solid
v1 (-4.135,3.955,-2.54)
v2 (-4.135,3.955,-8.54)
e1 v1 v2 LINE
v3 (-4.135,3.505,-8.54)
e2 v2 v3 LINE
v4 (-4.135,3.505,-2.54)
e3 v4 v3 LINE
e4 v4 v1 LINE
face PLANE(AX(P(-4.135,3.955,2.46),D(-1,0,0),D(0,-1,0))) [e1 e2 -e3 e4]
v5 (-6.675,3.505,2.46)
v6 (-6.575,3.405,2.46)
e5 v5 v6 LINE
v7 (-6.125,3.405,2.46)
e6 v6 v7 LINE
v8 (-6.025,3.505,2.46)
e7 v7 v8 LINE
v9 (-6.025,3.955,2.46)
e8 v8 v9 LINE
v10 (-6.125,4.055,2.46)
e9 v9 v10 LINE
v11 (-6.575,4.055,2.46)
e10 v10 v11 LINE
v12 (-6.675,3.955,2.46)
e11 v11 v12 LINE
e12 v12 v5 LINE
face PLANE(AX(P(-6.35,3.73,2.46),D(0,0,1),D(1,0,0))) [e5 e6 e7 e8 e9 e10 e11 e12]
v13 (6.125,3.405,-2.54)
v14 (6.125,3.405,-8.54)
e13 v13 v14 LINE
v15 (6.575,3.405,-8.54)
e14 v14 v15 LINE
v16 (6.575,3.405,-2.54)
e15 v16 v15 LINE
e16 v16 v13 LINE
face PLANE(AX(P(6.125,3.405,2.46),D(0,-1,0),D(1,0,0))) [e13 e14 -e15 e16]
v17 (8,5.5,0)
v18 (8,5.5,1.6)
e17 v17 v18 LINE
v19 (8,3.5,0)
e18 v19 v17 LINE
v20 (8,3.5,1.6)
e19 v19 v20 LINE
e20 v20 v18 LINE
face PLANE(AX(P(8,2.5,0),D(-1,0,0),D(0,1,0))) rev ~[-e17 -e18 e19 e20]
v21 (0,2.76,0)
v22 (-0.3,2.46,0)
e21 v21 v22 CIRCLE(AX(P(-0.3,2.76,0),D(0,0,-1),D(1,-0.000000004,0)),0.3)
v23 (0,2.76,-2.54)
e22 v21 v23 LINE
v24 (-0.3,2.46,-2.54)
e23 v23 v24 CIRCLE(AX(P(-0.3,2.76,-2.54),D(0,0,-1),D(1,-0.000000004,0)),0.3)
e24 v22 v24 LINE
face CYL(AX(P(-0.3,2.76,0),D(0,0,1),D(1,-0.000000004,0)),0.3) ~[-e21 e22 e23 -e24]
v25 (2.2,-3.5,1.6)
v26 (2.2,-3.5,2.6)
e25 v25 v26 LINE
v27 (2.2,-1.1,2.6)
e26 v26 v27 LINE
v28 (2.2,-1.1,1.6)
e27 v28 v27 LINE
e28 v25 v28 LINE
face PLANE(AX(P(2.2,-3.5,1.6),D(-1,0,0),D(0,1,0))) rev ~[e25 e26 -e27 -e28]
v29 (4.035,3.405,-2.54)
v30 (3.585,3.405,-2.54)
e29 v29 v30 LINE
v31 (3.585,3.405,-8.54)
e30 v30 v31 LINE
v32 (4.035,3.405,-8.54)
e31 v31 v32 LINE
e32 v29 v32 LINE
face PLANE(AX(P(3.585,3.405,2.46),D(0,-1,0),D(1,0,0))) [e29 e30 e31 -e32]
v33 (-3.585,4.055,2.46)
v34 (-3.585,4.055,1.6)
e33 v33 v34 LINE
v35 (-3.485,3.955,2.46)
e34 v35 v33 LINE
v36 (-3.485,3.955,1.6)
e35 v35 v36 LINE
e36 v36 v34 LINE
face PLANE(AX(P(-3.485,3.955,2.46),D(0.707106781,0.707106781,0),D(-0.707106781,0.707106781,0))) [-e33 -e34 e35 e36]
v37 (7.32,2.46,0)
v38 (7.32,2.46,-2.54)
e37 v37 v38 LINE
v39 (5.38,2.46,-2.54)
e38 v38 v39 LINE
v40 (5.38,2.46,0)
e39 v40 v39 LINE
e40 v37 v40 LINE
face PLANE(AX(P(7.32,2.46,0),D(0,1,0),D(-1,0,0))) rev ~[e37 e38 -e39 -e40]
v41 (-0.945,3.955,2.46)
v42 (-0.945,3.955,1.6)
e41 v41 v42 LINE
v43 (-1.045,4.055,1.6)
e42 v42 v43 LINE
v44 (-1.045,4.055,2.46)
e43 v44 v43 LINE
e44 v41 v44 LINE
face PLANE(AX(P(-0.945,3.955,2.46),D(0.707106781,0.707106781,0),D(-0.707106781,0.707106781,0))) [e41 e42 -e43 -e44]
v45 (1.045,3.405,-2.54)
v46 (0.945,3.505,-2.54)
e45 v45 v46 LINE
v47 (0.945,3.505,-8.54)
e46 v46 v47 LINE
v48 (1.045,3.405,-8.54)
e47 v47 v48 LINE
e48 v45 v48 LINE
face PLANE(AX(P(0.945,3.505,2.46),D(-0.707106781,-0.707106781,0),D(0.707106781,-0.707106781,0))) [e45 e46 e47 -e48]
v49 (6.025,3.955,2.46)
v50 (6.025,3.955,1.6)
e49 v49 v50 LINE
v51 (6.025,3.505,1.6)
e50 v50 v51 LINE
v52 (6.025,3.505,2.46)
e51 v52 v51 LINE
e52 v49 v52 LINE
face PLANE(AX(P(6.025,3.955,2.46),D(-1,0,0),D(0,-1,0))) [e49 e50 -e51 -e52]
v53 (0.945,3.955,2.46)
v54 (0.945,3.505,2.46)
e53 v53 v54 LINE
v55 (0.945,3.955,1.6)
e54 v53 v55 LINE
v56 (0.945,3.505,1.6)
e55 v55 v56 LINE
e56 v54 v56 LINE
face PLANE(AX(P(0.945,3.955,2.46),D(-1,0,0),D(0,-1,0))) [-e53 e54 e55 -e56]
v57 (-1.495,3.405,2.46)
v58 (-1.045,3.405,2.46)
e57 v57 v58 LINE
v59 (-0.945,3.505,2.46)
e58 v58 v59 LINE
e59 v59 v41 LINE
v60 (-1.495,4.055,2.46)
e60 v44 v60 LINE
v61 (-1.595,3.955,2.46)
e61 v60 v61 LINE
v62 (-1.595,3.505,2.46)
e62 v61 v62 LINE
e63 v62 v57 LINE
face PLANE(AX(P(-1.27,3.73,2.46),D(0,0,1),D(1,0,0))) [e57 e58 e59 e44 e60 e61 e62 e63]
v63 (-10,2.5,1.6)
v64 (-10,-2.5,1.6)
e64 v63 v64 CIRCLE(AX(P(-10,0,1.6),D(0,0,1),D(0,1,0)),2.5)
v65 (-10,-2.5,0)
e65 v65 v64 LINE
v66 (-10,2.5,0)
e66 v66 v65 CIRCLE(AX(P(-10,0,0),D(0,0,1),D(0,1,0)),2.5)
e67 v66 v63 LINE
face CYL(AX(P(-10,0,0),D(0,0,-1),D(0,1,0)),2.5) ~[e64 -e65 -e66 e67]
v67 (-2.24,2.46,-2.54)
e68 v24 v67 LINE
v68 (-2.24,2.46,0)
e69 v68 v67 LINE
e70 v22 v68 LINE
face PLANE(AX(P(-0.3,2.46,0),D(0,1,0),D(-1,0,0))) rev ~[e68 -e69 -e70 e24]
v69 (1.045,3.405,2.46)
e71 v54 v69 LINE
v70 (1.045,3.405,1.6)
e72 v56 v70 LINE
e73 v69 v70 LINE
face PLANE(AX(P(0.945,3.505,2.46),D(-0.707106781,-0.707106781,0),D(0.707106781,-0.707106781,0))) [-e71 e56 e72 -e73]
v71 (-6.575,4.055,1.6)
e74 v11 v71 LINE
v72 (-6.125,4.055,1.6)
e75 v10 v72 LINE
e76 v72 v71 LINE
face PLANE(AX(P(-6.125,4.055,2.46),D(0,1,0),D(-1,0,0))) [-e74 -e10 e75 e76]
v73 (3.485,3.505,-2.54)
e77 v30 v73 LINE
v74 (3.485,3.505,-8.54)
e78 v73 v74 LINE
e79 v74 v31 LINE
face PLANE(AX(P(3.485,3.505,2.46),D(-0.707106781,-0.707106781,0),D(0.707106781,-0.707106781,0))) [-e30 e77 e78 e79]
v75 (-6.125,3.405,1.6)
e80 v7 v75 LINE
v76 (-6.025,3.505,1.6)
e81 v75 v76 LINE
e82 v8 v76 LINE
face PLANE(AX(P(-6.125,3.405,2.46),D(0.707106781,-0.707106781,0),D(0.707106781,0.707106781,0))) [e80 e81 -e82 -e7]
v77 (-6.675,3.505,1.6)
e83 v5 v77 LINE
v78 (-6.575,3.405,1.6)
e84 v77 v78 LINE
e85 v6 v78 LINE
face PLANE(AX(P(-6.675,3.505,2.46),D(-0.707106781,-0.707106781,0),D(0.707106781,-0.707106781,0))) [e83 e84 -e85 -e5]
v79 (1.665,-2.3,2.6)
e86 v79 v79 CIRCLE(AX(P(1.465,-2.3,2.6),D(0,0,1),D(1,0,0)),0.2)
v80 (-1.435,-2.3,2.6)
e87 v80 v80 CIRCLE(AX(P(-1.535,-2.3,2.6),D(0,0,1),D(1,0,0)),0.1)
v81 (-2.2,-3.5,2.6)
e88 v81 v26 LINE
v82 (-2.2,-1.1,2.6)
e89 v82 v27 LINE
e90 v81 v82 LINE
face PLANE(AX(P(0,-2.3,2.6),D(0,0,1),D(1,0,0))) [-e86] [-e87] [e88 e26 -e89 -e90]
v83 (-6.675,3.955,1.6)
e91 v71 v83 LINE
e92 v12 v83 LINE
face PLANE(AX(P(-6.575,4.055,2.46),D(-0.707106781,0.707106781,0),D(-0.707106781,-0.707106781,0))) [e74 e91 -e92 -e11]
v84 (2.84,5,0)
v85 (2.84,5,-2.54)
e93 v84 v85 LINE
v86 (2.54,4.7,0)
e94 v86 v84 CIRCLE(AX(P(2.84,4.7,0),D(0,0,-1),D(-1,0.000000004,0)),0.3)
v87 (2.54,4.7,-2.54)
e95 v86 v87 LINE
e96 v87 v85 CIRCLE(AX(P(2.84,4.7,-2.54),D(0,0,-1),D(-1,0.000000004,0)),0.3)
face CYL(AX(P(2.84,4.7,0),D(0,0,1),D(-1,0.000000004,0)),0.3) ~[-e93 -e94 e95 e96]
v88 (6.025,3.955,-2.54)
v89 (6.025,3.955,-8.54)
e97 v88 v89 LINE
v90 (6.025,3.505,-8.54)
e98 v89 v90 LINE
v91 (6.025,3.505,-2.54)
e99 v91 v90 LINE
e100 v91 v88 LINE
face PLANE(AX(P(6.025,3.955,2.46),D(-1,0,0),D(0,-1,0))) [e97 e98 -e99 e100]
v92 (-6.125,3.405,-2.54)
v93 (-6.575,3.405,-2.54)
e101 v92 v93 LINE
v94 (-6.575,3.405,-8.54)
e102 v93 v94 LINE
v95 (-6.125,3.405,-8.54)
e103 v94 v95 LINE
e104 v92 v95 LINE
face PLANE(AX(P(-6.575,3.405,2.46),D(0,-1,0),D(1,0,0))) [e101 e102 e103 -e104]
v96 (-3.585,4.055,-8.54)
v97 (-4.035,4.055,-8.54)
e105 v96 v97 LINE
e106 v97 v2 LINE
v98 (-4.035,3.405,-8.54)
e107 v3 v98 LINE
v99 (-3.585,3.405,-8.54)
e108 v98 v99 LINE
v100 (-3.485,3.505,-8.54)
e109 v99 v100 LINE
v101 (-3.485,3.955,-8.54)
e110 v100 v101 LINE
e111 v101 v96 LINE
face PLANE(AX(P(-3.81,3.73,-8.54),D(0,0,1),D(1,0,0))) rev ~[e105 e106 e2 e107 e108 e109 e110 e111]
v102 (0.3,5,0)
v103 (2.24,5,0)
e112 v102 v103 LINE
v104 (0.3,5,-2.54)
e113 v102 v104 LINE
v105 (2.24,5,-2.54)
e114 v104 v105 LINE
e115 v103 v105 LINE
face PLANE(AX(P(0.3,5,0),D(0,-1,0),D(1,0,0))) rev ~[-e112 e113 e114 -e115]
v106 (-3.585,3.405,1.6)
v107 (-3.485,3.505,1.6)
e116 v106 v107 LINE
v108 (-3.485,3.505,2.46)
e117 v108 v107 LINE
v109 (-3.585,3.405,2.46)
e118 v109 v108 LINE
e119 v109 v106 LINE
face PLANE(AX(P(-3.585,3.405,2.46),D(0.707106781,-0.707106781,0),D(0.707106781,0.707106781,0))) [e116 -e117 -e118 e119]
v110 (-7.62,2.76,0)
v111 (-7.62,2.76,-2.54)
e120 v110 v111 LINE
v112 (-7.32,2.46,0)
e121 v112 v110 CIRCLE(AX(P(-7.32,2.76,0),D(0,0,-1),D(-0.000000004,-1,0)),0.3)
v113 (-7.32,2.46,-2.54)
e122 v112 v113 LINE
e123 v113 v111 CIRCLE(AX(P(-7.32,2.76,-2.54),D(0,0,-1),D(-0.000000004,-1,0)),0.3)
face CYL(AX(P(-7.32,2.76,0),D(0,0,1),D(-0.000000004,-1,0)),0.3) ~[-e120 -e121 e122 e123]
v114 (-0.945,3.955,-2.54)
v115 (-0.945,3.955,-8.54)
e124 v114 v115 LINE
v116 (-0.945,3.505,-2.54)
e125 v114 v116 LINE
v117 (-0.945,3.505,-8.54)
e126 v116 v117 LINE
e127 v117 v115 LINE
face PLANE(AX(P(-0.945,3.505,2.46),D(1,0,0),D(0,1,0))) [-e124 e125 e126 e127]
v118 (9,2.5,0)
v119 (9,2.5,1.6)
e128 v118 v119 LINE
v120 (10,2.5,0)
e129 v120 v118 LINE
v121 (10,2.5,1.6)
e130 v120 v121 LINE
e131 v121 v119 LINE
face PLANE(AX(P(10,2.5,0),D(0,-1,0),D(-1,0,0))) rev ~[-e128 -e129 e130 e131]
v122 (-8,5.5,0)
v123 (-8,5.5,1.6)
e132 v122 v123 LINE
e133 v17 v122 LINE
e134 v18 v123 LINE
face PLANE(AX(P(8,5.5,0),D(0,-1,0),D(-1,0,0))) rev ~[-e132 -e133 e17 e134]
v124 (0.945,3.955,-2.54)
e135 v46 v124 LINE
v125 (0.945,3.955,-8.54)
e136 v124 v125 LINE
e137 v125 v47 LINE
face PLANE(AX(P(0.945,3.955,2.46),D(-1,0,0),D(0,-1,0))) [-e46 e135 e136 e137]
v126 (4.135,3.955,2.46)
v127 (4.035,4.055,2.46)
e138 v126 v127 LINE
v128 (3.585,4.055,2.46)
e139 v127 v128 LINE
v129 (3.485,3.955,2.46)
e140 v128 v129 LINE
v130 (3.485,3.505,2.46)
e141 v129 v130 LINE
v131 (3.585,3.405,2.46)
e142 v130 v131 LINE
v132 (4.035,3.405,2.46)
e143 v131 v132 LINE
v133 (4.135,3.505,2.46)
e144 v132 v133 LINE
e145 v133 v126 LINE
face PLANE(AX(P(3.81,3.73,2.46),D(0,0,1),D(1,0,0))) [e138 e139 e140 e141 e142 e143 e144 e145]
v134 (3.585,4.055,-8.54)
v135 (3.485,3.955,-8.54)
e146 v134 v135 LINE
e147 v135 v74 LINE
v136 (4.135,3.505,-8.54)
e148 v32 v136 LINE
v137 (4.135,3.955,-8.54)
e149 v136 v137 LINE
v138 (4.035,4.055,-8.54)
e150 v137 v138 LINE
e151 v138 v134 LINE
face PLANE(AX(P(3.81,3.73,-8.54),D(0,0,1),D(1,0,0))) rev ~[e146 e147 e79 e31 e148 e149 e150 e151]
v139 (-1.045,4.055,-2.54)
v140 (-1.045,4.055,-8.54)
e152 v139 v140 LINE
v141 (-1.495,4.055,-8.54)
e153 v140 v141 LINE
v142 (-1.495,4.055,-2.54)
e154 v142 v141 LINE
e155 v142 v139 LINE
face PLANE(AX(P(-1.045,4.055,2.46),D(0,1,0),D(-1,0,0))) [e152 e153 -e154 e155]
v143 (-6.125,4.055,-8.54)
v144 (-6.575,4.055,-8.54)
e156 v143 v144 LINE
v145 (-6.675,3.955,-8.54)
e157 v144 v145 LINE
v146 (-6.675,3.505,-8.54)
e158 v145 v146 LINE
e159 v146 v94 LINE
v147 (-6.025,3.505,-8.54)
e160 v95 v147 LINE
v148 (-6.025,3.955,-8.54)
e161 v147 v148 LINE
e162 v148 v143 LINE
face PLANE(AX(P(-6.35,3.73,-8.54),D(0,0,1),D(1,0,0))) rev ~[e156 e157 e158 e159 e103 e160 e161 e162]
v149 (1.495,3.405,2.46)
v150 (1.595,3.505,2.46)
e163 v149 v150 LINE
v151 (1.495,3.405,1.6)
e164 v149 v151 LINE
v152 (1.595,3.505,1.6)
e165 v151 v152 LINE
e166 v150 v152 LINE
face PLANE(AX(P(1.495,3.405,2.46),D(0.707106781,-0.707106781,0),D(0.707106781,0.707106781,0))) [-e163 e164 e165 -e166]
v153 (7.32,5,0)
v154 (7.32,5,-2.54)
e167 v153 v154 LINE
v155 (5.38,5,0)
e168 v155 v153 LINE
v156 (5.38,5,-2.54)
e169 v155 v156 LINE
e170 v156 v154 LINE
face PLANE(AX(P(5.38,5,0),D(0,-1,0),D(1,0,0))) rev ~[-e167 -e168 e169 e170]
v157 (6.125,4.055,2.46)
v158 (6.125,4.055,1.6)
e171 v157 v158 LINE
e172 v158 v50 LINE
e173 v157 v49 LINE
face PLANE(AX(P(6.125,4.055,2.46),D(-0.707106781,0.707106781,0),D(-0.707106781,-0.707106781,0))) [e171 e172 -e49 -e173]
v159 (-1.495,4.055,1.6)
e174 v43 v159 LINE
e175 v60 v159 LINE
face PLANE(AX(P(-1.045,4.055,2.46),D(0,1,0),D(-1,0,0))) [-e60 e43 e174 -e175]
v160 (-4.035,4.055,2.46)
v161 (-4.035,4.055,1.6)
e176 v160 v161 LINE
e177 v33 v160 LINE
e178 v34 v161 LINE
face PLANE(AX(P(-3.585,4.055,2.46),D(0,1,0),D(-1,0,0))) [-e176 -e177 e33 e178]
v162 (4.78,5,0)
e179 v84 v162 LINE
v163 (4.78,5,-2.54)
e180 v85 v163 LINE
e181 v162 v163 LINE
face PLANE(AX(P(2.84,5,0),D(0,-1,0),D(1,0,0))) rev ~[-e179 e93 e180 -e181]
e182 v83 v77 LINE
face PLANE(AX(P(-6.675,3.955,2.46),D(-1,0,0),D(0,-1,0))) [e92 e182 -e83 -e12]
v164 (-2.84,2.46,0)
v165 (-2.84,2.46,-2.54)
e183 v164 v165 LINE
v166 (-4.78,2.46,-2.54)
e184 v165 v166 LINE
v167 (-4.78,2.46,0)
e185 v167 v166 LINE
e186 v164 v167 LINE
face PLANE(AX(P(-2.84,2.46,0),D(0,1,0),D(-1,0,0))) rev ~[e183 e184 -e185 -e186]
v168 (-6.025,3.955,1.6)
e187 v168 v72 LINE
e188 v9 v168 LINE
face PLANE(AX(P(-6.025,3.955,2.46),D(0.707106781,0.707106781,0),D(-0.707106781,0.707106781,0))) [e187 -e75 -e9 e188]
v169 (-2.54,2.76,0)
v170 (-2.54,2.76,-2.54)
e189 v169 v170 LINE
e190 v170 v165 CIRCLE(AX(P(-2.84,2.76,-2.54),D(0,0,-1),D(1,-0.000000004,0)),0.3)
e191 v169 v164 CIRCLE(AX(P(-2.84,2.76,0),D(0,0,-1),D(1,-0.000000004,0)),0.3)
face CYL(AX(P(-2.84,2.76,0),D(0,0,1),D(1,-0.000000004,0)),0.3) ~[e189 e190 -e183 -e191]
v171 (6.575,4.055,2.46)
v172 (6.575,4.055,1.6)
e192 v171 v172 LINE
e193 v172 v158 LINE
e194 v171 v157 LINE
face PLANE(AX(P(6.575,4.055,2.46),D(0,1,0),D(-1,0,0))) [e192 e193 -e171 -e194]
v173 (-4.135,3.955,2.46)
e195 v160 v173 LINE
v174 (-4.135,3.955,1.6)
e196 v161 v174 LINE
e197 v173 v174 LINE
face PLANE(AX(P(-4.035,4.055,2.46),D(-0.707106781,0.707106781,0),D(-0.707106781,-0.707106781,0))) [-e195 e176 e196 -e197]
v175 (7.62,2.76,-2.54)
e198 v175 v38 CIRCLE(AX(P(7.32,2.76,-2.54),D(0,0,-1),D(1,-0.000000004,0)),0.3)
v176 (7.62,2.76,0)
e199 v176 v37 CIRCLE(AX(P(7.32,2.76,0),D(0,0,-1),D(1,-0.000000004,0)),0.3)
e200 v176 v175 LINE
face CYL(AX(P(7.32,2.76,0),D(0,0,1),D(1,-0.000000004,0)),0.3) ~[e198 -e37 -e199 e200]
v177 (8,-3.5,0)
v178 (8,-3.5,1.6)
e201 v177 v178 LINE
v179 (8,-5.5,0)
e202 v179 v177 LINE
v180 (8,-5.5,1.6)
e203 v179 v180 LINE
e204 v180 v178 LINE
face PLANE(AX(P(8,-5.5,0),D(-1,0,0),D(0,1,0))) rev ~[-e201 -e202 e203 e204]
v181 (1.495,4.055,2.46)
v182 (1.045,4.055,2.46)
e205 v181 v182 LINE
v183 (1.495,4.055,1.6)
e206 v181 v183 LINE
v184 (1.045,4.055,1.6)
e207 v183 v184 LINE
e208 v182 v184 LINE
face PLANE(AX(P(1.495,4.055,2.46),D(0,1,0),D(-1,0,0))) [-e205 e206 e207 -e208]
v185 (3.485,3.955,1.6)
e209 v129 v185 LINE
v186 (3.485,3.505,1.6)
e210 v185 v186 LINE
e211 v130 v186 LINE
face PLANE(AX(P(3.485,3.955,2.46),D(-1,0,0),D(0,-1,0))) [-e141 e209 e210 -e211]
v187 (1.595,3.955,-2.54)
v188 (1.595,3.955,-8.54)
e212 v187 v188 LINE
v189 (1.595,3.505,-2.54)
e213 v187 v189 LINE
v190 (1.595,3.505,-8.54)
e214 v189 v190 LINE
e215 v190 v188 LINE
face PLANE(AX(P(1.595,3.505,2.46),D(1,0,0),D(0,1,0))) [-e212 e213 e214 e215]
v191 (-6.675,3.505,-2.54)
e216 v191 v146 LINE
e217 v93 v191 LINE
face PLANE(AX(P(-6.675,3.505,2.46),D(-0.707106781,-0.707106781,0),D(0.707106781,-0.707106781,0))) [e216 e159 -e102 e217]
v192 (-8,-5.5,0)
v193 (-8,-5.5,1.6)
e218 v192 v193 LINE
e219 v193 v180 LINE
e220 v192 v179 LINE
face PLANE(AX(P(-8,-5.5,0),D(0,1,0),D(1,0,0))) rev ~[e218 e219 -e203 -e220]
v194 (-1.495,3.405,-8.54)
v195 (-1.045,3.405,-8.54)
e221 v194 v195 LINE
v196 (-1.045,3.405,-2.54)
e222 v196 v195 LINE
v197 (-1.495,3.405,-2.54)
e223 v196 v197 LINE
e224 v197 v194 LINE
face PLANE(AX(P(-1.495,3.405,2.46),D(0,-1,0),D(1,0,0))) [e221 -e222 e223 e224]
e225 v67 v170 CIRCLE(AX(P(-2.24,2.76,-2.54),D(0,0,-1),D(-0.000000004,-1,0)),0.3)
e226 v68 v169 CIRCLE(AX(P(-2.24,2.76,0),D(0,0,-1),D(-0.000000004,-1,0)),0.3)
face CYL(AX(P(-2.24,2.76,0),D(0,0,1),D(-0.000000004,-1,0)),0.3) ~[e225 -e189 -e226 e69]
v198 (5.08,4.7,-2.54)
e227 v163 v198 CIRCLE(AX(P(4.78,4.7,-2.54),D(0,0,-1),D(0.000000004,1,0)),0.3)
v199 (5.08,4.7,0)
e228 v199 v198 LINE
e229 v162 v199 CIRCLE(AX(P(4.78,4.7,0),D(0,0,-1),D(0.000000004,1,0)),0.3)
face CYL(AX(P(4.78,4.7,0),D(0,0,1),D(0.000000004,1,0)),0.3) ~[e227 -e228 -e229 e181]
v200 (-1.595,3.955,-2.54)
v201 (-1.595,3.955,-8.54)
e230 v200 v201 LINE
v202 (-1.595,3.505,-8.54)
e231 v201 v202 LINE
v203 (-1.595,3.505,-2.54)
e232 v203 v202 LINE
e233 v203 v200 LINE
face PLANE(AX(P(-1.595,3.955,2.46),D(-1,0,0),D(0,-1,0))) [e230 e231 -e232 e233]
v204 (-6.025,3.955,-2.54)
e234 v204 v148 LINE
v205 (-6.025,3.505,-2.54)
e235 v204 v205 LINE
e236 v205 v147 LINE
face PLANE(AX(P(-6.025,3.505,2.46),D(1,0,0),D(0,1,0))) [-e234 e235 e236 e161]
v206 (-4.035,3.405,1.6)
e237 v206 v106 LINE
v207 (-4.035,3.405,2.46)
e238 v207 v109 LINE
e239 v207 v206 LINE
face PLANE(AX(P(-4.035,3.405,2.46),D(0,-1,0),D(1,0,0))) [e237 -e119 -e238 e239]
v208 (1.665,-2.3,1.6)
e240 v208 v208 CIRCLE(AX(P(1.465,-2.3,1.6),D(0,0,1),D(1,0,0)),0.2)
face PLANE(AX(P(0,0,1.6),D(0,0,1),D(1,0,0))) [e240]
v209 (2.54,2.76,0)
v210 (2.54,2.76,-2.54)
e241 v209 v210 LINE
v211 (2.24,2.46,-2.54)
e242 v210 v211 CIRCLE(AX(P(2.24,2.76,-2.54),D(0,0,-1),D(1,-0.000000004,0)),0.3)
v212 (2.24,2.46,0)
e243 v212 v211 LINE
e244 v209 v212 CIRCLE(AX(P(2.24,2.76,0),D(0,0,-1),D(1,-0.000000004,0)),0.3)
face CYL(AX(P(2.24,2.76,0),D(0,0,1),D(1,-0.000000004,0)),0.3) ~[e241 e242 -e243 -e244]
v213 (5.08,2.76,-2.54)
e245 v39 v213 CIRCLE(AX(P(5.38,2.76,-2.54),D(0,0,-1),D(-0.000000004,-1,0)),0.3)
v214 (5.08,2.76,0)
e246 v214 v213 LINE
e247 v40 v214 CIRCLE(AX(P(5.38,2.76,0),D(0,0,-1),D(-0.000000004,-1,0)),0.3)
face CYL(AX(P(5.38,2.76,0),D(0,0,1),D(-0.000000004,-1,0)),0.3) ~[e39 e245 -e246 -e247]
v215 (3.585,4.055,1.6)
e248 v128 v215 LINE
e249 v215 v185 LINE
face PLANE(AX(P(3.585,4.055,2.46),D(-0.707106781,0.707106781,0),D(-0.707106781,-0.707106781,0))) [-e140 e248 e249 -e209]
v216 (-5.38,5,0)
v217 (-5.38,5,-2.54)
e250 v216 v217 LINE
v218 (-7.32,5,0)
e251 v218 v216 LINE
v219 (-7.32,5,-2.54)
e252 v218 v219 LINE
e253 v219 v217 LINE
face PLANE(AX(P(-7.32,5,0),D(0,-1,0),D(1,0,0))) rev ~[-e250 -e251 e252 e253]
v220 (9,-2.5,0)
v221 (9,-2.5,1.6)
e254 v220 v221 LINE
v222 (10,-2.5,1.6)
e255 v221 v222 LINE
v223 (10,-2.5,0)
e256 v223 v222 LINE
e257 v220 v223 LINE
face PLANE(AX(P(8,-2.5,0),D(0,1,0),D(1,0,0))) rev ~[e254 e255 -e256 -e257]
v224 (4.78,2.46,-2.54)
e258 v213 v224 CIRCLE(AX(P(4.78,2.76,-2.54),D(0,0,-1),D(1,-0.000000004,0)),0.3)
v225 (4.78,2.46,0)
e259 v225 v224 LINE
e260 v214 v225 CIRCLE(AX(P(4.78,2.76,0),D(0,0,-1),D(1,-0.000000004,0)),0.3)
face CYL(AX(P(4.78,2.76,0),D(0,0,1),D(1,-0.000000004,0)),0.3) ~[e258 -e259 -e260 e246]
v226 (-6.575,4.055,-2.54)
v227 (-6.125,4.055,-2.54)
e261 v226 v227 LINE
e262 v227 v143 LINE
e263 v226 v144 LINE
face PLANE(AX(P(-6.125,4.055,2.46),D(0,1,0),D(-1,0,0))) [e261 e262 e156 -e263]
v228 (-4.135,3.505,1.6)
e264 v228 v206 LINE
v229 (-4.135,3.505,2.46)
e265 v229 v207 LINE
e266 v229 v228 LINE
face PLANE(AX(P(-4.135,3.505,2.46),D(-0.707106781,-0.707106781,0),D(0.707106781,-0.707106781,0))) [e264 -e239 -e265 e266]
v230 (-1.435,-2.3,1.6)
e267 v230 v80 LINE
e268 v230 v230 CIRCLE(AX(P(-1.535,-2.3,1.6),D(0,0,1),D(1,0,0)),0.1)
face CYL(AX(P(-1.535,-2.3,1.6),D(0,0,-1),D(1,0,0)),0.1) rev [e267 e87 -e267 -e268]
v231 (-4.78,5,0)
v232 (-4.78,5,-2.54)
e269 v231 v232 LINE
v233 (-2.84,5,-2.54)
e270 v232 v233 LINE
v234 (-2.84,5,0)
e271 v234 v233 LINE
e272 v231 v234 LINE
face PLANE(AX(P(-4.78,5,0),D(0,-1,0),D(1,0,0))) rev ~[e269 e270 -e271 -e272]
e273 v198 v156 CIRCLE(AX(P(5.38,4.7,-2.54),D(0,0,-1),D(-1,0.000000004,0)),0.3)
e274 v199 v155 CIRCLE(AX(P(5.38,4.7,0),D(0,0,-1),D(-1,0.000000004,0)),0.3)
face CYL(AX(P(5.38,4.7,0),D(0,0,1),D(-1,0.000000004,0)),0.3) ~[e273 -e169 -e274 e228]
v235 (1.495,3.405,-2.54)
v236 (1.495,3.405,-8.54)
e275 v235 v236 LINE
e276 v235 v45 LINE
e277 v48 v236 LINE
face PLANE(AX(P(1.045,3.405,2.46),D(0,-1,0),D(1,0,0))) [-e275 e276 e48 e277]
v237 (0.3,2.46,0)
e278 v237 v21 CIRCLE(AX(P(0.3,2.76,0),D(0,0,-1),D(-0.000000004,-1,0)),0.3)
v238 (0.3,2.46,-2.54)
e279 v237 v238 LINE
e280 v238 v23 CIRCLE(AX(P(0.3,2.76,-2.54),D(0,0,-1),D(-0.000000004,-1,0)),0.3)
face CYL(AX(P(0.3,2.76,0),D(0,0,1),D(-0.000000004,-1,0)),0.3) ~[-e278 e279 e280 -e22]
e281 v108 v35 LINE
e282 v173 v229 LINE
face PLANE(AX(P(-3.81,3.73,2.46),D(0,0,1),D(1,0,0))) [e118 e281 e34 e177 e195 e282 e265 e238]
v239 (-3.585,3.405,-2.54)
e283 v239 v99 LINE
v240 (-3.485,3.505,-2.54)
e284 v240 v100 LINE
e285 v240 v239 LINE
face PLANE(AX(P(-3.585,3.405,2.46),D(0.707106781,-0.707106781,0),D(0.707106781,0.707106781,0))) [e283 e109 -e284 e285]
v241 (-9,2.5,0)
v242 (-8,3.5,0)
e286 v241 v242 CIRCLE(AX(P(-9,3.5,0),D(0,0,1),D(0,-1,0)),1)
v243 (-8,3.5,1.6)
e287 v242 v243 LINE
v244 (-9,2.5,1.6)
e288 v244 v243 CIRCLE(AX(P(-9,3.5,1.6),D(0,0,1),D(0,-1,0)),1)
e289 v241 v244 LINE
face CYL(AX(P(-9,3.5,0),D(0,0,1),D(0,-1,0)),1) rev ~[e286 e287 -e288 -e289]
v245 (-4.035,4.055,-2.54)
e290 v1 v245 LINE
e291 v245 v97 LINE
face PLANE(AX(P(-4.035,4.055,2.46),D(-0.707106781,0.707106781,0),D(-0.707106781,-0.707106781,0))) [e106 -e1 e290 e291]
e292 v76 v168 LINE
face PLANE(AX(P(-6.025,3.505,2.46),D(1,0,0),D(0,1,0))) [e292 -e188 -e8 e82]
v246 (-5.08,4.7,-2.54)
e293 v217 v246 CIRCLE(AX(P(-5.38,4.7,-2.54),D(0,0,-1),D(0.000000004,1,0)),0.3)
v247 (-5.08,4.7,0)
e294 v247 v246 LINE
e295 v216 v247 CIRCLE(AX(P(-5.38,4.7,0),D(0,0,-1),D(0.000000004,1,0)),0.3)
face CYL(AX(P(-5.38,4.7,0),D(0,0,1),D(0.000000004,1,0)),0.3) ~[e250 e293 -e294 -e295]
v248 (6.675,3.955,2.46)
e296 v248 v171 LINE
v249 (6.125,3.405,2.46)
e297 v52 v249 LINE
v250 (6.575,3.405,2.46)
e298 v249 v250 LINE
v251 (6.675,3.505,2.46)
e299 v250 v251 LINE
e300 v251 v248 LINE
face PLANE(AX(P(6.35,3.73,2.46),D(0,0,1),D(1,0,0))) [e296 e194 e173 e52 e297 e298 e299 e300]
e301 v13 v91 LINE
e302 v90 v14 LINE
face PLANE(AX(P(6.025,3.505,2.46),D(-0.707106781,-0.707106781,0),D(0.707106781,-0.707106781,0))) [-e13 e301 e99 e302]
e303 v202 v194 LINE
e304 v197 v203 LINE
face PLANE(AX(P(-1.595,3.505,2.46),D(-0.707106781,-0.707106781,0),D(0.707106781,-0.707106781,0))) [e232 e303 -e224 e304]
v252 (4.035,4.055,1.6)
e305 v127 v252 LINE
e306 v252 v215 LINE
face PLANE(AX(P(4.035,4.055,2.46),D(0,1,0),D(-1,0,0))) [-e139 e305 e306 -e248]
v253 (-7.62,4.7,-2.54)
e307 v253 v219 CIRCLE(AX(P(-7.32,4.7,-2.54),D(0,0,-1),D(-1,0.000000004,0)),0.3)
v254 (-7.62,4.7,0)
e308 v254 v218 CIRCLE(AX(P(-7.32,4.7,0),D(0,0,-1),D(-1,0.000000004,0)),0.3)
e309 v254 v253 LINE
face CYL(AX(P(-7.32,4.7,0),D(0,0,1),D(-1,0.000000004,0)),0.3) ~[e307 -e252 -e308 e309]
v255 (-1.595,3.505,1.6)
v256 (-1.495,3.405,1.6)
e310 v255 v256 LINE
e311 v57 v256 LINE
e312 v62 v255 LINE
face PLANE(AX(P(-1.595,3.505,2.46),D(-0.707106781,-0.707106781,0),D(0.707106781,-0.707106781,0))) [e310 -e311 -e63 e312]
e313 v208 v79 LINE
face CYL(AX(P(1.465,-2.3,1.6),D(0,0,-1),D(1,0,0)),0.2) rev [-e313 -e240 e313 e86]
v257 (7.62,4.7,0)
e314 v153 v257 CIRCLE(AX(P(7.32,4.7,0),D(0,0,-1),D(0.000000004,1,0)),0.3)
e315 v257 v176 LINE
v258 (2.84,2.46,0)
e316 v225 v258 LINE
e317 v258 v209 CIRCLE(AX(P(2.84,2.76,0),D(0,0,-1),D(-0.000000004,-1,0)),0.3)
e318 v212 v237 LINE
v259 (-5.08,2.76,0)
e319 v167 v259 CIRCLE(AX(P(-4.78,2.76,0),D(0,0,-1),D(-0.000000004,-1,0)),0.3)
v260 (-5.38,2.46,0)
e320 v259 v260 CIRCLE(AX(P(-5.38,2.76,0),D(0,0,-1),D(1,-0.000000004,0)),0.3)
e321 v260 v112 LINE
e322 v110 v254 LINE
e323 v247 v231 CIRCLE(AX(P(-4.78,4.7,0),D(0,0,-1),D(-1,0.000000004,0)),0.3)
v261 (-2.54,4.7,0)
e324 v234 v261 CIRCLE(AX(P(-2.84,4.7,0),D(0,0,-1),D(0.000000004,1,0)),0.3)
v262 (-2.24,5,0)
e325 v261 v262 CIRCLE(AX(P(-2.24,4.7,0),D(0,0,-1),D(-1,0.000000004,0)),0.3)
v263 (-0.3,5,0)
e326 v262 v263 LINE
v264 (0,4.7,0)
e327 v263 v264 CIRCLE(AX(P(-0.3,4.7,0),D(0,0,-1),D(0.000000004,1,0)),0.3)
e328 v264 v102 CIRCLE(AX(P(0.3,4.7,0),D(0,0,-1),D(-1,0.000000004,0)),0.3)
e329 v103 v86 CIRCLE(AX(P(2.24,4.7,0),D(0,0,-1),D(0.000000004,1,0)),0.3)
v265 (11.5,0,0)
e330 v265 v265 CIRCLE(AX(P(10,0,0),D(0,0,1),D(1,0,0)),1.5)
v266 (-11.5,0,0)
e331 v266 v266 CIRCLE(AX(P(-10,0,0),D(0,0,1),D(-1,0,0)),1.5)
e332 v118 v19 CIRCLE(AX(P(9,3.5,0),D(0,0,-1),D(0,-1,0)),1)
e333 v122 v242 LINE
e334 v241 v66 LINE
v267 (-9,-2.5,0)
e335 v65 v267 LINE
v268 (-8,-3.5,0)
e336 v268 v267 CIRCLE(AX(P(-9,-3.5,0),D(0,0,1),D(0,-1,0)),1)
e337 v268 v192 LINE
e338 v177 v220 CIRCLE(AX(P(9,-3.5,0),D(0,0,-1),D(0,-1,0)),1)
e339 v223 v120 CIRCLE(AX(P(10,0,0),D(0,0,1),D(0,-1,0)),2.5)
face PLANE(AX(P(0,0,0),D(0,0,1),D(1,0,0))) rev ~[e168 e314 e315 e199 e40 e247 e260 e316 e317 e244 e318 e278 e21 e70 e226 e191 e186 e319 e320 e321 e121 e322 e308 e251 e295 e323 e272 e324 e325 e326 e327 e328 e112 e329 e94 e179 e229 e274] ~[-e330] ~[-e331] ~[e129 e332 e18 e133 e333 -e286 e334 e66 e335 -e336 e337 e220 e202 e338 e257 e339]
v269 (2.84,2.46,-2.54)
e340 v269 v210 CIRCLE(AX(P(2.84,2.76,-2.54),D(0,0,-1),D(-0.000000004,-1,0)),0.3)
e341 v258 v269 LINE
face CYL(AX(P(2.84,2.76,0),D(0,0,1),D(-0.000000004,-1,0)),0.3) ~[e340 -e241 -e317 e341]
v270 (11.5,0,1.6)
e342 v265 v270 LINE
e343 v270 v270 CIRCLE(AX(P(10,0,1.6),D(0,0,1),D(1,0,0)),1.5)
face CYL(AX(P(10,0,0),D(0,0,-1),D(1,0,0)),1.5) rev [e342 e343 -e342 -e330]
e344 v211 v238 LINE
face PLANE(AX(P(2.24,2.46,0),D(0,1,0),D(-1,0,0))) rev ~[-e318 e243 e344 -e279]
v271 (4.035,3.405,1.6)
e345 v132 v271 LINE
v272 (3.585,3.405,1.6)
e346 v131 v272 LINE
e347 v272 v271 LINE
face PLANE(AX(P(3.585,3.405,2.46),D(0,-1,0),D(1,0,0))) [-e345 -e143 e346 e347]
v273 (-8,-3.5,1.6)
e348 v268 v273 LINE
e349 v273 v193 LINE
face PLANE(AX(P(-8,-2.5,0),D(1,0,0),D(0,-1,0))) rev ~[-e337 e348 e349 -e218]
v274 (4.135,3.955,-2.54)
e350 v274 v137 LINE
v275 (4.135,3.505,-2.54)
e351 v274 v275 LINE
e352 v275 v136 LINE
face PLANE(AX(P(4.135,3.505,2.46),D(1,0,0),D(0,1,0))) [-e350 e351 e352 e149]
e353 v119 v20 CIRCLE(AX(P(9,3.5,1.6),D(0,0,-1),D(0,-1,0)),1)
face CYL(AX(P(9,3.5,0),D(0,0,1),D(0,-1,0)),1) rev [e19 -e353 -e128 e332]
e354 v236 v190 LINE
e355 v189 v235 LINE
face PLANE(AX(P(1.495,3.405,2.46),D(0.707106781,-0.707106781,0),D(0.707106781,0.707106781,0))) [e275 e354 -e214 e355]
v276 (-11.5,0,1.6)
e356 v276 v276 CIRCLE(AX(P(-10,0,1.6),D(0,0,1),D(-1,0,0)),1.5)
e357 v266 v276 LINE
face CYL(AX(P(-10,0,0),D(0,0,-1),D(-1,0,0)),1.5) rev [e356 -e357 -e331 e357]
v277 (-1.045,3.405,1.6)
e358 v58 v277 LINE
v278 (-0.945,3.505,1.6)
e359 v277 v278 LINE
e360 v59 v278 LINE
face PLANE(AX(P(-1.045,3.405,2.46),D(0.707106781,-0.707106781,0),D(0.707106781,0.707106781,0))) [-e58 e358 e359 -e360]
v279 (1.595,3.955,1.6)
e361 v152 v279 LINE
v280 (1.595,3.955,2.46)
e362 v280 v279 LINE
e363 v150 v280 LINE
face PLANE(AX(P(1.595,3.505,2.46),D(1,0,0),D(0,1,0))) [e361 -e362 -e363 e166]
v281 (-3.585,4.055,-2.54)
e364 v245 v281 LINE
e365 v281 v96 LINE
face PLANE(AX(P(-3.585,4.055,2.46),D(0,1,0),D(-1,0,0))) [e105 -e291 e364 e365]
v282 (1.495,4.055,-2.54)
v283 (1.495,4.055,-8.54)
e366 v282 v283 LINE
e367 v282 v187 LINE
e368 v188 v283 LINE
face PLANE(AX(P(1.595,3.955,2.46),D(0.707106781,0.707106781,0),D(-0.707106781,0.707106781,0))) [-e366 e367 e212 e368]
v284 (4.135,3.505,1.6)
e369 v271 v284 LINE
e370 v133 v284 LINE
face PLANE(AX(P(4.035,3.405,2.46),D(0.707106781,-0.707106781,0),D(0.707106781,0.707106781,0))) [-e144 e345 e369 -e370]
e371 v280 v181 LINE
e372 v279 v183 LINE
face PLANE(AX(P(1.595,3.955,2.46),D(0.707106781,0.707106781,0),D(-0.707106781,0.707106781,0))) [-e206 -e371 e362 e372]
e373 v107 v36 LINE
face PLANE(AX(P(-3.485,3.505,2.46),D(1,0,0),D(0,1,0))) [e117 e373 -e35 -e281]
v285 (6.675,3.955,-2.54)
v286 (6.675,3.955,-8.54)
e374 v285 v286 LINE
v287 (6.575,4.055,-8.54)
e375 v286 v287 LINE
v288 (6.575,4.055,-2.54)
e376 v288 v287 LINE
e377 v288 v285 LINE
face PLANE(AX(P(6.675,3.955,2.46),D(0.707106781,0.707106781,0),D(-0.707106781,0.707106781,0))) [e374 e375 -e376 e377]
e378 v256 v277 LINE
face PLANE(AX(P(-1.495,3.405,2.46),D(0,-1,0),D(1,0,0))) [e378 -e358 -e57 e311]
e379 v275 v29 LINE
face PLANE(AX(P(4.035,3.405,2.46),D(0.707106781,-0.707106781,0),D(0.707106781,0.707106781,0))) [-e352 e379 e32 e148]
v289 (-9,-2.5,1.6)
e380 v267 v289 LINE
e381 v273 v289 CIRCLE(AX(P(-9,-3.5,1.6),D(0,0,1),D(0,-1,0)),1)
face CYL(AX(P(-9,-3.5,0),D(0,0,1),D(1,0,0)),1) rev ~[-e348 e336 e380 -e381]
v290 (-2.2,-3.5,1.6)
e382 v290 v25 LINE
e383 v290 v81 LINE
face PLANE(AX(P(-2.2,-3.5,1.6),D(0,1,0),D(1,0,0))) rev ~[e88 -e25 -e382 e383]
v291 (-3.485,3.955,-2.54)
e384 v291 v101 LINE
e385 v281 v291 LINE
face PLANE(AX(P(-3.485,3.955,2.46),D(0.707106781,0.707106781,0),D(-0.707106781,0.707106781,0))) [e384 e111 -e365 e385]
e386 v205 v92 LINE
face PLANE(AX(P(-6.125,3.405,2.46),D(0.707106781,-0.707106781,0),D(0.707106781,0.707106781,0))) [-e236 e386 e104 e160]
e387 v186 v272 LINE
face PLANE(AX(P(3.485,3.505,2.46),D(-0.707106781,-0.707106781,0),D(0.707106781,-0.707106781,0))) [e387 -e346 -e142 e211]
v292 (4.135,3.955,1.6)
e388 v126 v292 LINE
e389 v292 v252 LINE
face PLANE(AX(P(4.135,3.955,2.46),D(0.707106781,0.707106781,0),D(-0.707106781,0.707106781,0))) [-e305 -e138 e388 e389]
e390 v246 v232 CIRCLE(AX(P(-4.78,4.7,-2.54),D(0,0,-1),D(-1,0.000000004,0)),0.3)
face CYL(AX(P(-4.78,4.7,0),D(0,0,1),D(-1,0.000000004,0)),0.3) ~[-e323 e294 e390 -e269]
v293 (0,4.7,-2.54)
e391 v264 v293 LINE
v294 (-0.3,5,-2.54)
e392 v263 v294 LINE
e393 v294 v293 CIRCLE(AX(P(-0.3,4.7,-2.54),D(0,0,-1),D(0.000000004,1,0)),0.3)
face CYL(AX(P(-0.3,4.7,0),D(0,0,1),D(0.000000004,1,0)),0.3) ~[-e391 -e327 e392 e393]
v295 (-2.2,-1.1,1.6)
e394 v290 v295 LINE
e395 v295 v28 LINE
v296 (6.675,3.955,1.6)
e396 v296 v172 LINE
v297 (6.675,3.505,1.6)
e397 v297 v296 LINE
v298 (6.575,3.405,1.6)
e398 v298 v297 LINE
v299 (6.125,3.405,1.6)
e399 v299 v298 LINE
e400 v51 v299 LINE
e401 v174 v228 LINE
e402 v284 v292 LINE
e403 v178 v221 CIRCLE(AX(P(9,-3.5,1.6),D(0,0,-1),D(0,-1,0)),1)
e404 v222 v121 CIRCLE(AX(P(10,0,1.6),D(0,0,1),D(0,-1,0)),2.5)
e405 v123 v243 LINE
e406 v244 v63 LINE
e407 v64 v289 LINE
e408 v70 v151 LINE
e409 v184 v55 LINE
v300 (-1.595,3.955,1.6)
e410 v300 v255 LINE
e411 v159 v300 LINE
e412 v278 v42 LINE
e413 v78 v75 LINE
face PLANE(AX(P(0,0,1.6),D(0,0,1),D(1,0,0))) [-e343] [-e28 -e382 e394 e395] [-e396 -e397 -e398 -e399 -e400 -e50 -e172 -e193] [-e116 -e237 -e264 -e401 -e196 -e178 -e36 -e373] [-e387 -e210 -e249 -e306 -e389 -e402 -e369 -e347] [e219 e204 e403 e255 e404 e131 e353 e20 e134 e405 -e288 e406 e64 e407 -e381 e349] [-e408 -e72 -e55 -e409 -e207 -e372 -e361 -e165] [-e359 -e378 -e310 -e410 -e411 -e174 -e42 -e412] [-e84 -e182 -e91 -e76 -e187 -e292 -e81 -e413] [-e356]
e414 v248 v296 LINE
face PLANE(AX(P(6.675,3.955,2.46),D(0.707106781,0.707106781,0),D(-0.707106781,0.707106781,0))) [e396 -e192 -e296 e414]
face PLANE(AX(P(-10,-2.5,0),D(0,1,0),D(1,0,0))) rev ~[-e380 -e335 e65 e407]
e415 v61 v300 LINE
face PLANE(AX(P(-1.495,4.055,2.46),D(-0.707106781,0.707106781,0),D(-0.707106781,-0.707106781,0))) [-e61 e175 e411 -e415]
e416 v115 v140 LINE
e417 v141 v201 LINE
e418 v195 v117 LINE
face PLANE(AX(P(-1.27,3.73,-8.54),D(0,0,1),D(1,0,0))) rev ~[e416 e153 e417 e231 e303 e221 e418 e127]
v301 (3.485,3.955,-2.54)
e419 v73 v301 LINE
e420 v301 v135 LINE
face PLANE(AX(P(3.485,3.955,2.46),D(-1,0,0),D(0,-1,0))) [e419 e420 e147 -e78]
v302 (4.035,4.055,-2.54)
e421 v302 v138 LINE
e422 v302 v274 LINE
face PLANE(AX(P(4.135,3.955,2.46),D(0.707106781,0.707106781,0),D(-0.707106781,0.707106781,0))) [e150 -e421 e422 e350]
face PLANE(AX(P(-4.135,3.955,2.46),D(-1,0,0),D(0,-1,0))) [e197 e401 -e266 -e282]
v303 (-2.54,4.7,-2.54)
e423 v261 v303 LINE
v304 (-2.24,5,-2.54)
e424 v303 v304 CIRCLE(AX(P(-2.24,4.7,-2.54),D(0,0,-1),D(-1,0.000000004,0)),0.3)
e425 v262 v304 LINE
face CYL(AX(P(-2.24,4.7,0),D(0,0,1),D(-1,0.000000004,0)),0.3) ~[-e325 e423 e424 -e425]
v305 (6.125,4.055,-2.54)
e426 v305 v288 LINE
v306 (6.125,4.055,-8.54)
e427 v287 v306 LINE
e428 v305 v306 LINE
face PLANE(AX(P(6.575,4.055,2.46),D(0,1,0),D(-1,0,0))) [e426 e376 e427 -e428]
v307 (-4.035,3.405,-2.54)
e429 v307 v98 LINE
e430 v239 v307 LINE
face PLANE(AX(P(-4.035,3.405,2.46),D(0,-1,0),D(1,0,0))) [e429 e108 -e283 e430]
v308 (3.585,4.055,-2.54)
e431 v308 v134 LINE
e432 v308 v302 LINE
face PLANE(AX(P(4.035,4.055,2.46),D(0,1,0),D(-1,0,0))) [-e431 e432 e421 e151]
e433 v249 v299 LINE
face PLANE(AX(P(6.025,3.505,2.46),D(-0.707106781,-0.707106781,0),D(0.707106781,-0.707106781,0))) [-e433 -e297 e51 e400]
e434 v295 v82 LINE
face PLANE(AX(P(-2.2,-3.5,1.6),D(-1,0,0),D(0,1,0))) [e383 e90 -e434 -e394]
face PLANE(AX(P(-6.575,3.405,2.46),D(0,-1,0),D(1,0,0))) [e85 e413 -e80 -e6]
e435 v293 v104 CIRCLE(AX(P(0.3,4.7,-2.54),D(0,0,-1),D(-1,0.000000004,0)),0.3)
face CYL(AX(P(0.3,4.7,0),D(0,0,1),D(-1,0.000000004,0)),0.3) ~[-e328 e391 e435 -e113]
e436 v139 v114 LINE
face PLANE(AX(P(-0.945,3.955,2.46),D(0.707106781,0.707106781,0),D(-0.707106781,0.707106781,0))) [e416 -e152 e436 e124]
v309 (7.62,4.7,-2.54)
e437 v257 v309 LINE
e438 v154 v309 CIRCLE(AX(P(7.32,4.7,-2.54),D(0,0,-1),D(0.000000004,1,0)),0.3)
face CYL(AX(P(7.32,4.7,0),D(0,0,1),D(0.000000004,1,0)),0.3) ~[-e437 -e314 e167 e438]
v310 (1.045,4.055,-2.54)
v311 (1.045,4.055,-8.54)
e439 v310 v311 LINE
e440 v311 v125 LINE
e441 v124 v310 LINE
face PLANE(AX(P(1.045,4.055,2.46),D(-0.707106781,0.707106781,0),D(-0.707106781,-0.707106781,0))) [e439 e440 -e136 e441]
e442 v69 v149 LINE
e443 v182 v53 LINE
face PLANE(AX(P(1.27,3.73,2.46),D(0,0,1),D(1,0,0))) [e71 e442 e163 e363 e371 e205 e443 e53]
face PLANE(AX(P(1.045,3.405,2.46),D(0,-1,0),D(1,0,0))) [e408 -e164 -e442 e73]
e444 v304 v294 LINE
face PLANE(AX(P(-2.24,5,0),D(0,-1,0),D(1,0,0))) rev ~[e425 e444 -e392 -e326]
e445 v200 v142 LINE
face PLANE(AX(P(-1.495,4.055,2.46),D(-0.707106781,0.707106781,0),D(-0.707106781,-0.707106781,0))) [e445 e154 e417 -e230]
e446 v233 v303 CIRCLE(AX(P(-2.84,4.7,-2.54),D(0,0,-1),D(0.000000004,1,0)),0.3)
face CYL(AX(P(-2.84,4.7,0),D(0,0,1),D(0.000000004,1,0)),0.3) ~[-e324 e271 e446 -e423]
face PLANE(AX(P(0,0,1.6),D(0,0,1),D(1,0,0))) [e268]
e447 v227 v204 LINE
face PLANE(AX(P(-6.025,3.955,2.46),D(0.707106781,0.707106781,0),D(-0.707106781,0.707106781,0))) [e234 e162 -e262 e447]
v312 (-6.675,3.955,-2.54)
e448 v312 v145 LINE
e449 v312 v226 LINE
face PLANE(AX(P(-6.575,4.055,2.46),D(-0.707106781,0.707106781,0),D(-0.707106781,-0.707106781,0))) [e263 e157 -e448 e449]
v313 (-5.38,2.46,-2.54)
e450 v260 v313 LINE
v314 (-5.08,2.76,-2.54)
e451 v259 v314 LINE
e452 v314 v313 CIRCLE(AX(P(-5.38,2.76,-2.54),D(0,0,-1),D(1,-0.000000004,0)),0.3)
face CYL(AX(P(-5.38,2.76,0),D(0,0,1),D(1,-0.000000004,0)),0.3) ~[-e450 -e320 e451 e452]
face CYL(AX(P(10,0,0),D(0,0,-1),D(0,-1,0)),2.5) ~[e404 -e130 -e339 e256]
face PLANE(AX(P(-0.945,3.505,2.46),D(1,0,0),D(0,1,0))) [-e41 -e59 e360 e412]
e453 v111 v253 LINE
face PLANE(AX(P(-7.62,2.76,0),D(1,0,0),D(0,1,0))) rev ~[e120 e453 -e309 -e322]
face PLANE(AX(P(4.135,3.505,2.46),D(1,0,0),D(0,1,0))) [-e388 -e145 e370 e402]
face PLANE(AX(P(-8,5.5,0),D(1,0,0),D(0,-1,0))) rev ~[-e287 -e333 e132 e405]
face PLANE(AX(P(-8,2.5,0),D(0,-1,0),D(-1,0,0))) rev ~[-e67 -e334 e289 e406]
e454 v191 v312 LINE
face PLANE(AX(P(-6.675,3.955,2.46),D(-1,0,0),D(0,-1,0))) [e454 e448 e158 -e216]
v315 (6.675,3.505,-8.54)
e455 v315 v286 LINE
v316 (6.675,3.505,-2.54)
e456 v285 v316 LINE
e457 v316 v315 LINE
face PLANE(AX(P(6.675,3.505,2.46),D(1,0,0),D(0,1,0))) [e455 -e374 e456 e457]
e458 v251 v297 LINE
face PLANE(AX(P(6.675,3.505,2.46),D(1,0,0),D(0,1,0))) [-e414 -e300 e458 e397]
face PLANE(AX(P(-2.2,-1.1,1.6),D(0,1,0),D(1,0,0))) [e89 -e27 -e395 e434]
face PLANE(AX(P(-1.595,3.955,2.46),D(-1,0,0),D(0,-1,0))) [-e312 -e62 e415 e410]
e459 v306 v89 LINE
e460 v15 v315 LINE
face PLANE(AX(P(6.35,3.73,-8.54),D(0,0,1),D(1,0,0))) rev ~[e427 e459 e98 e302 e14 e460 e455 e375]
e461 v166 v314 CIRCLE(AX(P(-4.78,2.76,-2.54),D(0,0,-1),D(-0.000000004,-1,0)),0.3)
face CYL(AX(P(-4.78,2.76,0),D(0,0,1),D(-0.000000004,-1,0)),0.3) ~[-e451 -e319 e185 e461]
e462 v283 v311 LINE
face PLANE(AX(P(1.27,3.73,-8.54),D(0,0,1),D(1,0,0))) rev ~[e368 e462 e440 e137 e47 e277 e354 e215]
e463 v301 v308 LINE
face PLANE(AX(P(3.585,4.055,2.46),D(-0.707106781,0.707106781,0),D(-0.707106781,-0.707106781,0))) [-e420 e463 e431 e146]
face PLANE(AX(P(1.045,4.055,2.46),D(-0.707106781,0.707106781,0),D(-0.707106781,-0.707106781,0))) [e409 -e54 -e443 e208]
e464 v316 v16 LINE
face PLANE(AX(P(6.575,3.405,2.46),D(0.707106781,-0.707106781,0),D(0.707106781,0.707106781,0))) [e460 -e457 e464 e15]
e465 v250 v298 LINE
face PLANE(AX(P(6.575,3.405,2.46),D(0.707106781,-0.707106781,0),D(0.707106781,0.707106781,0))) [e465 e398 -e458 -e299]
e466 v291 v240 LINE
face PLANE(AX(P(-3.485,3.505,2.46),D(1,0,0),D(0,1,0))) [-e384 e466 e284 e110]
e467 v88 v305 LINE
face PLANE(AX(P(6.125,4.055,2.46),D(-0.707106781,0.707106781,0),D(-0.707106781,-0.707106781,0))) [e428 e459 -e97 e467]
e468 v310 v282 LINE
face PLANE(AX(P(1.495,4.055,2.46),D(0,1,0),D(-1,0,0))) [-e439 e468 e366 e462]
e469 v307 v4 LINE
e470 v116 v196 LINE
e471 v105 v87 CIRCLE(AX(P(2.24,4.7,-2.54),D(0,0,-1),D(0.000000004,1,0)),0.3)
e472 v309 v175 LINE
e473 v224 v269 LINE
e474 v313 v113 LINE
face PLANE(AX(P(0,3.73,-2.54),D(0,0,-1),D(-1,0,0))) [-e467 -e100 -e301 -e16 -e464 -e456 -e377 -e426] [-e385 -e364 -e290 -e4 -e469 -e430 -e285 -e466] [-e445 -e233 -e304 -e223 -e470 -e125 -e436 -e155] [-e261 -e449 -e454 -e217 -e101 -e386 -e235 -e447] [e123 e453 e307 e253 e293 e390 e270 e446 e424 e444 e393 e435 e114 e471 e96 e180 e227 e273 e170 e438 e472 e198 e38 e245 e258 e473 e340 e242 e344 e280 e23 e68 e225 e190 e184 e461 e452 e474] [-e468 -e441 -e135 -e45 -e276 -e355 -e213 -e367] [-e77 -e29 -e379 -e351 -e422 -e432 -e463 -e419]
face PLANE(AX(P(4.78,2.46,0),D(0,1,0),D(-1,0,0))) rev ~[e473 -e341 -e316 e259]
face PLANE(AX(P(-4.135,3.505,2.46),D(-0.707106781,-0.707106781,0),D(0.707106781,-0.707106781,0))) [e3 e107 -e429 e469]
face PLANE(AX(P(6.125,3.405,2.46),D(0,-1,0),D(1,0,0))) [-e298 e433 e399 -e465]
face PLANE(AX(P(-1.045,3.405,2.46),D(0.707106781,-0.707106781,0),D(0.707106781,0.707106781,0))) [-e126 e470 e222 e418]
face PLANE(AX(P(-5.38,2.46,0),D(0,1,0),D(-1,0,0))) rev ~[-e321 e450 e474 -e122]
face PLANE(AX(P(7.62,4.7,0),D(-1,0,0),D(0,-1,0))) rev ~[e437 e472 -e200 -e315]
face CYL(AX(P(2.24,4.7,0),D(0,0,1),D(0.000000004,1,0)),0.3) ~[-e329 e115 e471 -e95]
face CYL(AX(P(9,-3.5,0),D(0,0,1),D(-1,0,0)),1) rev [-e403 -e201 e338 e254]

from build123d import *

# Parameters (mm, degrees)
CROQUIS1_R                   = 1.5
SALIENTE_EXTRUIR1_DEPTH      = 1.6
CROQUIS2_W                   = 4.4
CROQUIS2_H                   = 2.4
CROQUIS2_R                   = 0.1
CROQUIS2_R_2                 = 0.2
SALIENTE_EXTRUIR2_DEPTH      = 1
REDONDEO1_R                  = 1
SALIENTE_EXTRUIR3_DEPTH      = 2.54
SALIENTE_EXTRUIR4_DEPTH      = 6
SALIENTE_EXTRUIR4_DEPTH_BACK = 5


with BuildPart() as part:
    # Croquis1 → Saliente-Extruir1 (new body)
    with BuildSketch(Plane.XY):
        with BuildLine():
            Line((-8, -5.5), (8, -5.5))
            Line((8, -5.5), (8, -2.5))
            Line((8, -2.5), (10, -2.5))
            ThreePointArc((10, -2.5), (12.5, 0), (10, 2.5))
            Line((10, 2.5), (8, 2.5))
            Line((8, 2.5), (8, 5.5))
            Line((8, 5.5), (-8, 5.5))
            Line((-8, 5.5), (-8, 2.5))
            Line((-8, 2.5), (-10, 2.5))
            ThreePointArc((-10, 2.5), (-12.5, 0), (-10, -2.5))
            Line((-10, -2.5), (-8, -2.5))
            Line((-8, -2.5), (-8, -5.5))
        make_face()
        with Locations((10, 0)):
            Circle(CROQUIS1_R, mode=Mode.SUBTRACT)
        with Locations(Location((-10, 0, 0), (0, 0, 180))):
            Circle(CROQUIS1_R, mode=Mode.SUBTRACT)
    extrude(amount=SALIENTE_EXTRUIR1_DEPTH)

    # Croquis2 → Saliente-Extruir2 (add)
    with BuildSketch(Plane.XY.offset(1.6)):
        with Locations((0, -2.3)):
            Rectangle(CROQUIS2_W, CROQUIS2_H)
        with Locations((-1.535, -2.3)):
            Circle(CROQUIS2_R, mode=Mode.SUBTRACT)
        with Locations((1.465, -2.3)):
            Circle(CROQUIS2_R_2, mode=Mode.SUBTRACT)
    extrude(amount=SALIENTE_EXTRUIR2_DEPTH)

    # Redondeo1
    redondeo1_edges = [part.edges().sort_by_distance(p)[0] for p in [
        (8, 2.5, 0.8),
        (8, -2.5, 0.8),
        (-8, -2.5, 0.8),
        (-8, 2.5, 0.8),
    ]]
    fillet(redondeo1_edges, radius=REDONDEO1_R)

    # Croquis3 → Saliente-Extruir3 (add)
    with BuildSketch(Plane(origin=(0, 0, 0), x_dir=(-1, 0, 0), z_dir=(0, 0, -1))):
        with BuildLine():
            Line((0.3, 2.46), (2.24, 2.46))
            ThreePointArc((2.24, 2.46), (2.452132034, 2.547867966), (2.54, 2.76))
            ThreePointArc((2.54, 2.76), (2.627867966, 2.547867966), (2.84, 2.46))
            Line((2.84, 2.46), (4.78, 2.46))
            ThreePointArc((4.78, 2.46), (4.992132034, 2.547867966), (5.08, 2.76))
            ThreePointArc((5.08, 2.76), (5.167867966, 2.547867966), (5.38, 2.46))
            Line((5.38, 2.46), (7.32, 2.46))
            ThreePointArc((7.32, 2.46), (7.532132034, 2.547867966), (7.62, 2.76))
            Line((7.62, 2.76), (7.62, 4.7))
            ThreePointArc((7.62, 4.7), (7.532132034, 4.912132034), (7.32, 5))
            Line((7.32, 5), (5.38, 5))
            ThreePointArc((5.38, 5), (5.167867966, 4.912132034), (5.08, 4.7))
            ThreePointArc((5.08, 4.7), (4.992132034, 4.912132034), (4.78, 5))
            Line((4.78, 5), (2.84, 5))
            ThreePointArc((2.84, 5), (2.627867966, 4.912132034), (2.54, 4.7))
            ThreePointArc((2.54, 4.7), (2.452132034, 4.912132034), (2.24, 5))
            Line((2.24, 5), (0.3, 5))
            ThreePointArc((0.3, 5), (0.087867966, 4.912132034), (0, 4.7))
            ThreePointArc((0, 4.7), (-0.087867966, 4.912132034), (-0.3, 5))
            Line((-0.3, 5), (-2.24, 5))
            ThreePointArc((-2.24, 5), (-2.452132034, 4.912132034), (-2.54, 4.7))
            ThreePointArc((-2.54, 4.7), (-2.627867966, 4.912132034), (-2.84, 5))
            Line((-2.84, 5), (-4.78, 5))
            ThreePointArc((-4.78, 5), (-4.992132034, 4.912132034), (-5.08, 4.7))
            ThreePointArc((-5.08, 4.7), (-5.167867966, 4.912132034), (-5.38, 5))
            Line((-5.38, 5), (-7.32, 5))
            ThreePointArc((-7.32, 5), (-7.532132034, 4.912132034), (-7.62, 4.7))
            Line((-7.62, 4.7), (-7.62, 2.76))
            ThreePointArc((-7.62, 2.76), (-7.532132034, 2.547867966), (-7.32, 2.46))
            Line((-7.32, 2.46), (-5.38, 2.46))
            ThreePointArc((-5.38, 2.46), (-5.167867966, 2.547867966), (-5.08, 2.76))
            ThreePointArc((-5.08, 2.76), (-4.992132034, 2.547867966), (-4.78, 2.46))
            Line((-4.78, 2.46), (-2.84, 2.46))
            ThreePointArc((-2.84, 2.46), (-2.627867966, 2.547867966), (-2.54, 2.76))
            ThreePointArc((-2.54, 2.76), (-2.452132034, 2.547867966), (-2.24, 2.46))
            Line((-2.24, 2.46), (-0.3, 2.46))
            ThreePointArc((-0.3, 2.46), (-0.087867966, 2.547867966), (0, 2.76))
            ThreePointArc((0, 2.76), (0.087867966, 2.547867966), (0.3, 2.46))
        make_face()
    extrude(amount=SALIENTE_EXTRUIR3_DEPTH)

    # Croquis4 → Saliente-Extruir4 (add, two sides: drawn at the far end of the back side and taken through both)
    with BuildSketch(Plane(origin=(0, 0, -2.54), x_dir=(-1, 0, 0), z_dir=(0, 0, -1)).offset(-SALIENTE_EXTRUIR4_DEPTH_BACK)):
        Polygon((6.025, 3.505), (6.025, 3.955), (6.125, 4.055), (6.575, 4.055), (6.675, 3.955), (6.675, 3.505), (6.575, 3.405), (6.125, 3.405), align=None)
        Polygon((3.485, 3.505), (3.485, 3.955), (3.585, 4.055), (4.035, 4.055), (4.135, 3.955), (4.135, 3.505), (4.035, 3.405), (3.585, 3.405), align=None)
        Polygon((0.945, 3.505), (0.945, 3.955), (1.045, 4.055), (1.495, 4.055), (1.595, 3.955), (1.595, 3.505), (1.495, 3.405), (1.045, 3.405), align=None)
        Polygon((-4.135, 3.505), (-4.135, 3.955), (-4.035, 4.055), (-3.585, 4.055), (-3.485, 3.955), (-3.485, 3.505), (-3.585, 3.405), (-4.035, 3.405), align=None)
        Polygon((-1.595, 3.505), (-1.595, 3.955), (-1.495, 4.055), (-1.045, 4.055), (-0.945, 3.955), (-0.945, 3.505), (-1.045, 3.405), (-1.495, 3.405), align=None)
        Polygon((-6.675, 3.505), (-6.675, 3.955), (-6.575, 4.055), (-6.125, 4.055), (-6.025, 3.955), (-6.025, 3.505), (-6.125, 3.405), (-6.575, 3.405), align=None)
    extrude(amount=SALIENTE_EXTRUIR4_DEPTH + SALIENTE_EXTRUIR4_DEPTH_BACK)


solid = part.part
